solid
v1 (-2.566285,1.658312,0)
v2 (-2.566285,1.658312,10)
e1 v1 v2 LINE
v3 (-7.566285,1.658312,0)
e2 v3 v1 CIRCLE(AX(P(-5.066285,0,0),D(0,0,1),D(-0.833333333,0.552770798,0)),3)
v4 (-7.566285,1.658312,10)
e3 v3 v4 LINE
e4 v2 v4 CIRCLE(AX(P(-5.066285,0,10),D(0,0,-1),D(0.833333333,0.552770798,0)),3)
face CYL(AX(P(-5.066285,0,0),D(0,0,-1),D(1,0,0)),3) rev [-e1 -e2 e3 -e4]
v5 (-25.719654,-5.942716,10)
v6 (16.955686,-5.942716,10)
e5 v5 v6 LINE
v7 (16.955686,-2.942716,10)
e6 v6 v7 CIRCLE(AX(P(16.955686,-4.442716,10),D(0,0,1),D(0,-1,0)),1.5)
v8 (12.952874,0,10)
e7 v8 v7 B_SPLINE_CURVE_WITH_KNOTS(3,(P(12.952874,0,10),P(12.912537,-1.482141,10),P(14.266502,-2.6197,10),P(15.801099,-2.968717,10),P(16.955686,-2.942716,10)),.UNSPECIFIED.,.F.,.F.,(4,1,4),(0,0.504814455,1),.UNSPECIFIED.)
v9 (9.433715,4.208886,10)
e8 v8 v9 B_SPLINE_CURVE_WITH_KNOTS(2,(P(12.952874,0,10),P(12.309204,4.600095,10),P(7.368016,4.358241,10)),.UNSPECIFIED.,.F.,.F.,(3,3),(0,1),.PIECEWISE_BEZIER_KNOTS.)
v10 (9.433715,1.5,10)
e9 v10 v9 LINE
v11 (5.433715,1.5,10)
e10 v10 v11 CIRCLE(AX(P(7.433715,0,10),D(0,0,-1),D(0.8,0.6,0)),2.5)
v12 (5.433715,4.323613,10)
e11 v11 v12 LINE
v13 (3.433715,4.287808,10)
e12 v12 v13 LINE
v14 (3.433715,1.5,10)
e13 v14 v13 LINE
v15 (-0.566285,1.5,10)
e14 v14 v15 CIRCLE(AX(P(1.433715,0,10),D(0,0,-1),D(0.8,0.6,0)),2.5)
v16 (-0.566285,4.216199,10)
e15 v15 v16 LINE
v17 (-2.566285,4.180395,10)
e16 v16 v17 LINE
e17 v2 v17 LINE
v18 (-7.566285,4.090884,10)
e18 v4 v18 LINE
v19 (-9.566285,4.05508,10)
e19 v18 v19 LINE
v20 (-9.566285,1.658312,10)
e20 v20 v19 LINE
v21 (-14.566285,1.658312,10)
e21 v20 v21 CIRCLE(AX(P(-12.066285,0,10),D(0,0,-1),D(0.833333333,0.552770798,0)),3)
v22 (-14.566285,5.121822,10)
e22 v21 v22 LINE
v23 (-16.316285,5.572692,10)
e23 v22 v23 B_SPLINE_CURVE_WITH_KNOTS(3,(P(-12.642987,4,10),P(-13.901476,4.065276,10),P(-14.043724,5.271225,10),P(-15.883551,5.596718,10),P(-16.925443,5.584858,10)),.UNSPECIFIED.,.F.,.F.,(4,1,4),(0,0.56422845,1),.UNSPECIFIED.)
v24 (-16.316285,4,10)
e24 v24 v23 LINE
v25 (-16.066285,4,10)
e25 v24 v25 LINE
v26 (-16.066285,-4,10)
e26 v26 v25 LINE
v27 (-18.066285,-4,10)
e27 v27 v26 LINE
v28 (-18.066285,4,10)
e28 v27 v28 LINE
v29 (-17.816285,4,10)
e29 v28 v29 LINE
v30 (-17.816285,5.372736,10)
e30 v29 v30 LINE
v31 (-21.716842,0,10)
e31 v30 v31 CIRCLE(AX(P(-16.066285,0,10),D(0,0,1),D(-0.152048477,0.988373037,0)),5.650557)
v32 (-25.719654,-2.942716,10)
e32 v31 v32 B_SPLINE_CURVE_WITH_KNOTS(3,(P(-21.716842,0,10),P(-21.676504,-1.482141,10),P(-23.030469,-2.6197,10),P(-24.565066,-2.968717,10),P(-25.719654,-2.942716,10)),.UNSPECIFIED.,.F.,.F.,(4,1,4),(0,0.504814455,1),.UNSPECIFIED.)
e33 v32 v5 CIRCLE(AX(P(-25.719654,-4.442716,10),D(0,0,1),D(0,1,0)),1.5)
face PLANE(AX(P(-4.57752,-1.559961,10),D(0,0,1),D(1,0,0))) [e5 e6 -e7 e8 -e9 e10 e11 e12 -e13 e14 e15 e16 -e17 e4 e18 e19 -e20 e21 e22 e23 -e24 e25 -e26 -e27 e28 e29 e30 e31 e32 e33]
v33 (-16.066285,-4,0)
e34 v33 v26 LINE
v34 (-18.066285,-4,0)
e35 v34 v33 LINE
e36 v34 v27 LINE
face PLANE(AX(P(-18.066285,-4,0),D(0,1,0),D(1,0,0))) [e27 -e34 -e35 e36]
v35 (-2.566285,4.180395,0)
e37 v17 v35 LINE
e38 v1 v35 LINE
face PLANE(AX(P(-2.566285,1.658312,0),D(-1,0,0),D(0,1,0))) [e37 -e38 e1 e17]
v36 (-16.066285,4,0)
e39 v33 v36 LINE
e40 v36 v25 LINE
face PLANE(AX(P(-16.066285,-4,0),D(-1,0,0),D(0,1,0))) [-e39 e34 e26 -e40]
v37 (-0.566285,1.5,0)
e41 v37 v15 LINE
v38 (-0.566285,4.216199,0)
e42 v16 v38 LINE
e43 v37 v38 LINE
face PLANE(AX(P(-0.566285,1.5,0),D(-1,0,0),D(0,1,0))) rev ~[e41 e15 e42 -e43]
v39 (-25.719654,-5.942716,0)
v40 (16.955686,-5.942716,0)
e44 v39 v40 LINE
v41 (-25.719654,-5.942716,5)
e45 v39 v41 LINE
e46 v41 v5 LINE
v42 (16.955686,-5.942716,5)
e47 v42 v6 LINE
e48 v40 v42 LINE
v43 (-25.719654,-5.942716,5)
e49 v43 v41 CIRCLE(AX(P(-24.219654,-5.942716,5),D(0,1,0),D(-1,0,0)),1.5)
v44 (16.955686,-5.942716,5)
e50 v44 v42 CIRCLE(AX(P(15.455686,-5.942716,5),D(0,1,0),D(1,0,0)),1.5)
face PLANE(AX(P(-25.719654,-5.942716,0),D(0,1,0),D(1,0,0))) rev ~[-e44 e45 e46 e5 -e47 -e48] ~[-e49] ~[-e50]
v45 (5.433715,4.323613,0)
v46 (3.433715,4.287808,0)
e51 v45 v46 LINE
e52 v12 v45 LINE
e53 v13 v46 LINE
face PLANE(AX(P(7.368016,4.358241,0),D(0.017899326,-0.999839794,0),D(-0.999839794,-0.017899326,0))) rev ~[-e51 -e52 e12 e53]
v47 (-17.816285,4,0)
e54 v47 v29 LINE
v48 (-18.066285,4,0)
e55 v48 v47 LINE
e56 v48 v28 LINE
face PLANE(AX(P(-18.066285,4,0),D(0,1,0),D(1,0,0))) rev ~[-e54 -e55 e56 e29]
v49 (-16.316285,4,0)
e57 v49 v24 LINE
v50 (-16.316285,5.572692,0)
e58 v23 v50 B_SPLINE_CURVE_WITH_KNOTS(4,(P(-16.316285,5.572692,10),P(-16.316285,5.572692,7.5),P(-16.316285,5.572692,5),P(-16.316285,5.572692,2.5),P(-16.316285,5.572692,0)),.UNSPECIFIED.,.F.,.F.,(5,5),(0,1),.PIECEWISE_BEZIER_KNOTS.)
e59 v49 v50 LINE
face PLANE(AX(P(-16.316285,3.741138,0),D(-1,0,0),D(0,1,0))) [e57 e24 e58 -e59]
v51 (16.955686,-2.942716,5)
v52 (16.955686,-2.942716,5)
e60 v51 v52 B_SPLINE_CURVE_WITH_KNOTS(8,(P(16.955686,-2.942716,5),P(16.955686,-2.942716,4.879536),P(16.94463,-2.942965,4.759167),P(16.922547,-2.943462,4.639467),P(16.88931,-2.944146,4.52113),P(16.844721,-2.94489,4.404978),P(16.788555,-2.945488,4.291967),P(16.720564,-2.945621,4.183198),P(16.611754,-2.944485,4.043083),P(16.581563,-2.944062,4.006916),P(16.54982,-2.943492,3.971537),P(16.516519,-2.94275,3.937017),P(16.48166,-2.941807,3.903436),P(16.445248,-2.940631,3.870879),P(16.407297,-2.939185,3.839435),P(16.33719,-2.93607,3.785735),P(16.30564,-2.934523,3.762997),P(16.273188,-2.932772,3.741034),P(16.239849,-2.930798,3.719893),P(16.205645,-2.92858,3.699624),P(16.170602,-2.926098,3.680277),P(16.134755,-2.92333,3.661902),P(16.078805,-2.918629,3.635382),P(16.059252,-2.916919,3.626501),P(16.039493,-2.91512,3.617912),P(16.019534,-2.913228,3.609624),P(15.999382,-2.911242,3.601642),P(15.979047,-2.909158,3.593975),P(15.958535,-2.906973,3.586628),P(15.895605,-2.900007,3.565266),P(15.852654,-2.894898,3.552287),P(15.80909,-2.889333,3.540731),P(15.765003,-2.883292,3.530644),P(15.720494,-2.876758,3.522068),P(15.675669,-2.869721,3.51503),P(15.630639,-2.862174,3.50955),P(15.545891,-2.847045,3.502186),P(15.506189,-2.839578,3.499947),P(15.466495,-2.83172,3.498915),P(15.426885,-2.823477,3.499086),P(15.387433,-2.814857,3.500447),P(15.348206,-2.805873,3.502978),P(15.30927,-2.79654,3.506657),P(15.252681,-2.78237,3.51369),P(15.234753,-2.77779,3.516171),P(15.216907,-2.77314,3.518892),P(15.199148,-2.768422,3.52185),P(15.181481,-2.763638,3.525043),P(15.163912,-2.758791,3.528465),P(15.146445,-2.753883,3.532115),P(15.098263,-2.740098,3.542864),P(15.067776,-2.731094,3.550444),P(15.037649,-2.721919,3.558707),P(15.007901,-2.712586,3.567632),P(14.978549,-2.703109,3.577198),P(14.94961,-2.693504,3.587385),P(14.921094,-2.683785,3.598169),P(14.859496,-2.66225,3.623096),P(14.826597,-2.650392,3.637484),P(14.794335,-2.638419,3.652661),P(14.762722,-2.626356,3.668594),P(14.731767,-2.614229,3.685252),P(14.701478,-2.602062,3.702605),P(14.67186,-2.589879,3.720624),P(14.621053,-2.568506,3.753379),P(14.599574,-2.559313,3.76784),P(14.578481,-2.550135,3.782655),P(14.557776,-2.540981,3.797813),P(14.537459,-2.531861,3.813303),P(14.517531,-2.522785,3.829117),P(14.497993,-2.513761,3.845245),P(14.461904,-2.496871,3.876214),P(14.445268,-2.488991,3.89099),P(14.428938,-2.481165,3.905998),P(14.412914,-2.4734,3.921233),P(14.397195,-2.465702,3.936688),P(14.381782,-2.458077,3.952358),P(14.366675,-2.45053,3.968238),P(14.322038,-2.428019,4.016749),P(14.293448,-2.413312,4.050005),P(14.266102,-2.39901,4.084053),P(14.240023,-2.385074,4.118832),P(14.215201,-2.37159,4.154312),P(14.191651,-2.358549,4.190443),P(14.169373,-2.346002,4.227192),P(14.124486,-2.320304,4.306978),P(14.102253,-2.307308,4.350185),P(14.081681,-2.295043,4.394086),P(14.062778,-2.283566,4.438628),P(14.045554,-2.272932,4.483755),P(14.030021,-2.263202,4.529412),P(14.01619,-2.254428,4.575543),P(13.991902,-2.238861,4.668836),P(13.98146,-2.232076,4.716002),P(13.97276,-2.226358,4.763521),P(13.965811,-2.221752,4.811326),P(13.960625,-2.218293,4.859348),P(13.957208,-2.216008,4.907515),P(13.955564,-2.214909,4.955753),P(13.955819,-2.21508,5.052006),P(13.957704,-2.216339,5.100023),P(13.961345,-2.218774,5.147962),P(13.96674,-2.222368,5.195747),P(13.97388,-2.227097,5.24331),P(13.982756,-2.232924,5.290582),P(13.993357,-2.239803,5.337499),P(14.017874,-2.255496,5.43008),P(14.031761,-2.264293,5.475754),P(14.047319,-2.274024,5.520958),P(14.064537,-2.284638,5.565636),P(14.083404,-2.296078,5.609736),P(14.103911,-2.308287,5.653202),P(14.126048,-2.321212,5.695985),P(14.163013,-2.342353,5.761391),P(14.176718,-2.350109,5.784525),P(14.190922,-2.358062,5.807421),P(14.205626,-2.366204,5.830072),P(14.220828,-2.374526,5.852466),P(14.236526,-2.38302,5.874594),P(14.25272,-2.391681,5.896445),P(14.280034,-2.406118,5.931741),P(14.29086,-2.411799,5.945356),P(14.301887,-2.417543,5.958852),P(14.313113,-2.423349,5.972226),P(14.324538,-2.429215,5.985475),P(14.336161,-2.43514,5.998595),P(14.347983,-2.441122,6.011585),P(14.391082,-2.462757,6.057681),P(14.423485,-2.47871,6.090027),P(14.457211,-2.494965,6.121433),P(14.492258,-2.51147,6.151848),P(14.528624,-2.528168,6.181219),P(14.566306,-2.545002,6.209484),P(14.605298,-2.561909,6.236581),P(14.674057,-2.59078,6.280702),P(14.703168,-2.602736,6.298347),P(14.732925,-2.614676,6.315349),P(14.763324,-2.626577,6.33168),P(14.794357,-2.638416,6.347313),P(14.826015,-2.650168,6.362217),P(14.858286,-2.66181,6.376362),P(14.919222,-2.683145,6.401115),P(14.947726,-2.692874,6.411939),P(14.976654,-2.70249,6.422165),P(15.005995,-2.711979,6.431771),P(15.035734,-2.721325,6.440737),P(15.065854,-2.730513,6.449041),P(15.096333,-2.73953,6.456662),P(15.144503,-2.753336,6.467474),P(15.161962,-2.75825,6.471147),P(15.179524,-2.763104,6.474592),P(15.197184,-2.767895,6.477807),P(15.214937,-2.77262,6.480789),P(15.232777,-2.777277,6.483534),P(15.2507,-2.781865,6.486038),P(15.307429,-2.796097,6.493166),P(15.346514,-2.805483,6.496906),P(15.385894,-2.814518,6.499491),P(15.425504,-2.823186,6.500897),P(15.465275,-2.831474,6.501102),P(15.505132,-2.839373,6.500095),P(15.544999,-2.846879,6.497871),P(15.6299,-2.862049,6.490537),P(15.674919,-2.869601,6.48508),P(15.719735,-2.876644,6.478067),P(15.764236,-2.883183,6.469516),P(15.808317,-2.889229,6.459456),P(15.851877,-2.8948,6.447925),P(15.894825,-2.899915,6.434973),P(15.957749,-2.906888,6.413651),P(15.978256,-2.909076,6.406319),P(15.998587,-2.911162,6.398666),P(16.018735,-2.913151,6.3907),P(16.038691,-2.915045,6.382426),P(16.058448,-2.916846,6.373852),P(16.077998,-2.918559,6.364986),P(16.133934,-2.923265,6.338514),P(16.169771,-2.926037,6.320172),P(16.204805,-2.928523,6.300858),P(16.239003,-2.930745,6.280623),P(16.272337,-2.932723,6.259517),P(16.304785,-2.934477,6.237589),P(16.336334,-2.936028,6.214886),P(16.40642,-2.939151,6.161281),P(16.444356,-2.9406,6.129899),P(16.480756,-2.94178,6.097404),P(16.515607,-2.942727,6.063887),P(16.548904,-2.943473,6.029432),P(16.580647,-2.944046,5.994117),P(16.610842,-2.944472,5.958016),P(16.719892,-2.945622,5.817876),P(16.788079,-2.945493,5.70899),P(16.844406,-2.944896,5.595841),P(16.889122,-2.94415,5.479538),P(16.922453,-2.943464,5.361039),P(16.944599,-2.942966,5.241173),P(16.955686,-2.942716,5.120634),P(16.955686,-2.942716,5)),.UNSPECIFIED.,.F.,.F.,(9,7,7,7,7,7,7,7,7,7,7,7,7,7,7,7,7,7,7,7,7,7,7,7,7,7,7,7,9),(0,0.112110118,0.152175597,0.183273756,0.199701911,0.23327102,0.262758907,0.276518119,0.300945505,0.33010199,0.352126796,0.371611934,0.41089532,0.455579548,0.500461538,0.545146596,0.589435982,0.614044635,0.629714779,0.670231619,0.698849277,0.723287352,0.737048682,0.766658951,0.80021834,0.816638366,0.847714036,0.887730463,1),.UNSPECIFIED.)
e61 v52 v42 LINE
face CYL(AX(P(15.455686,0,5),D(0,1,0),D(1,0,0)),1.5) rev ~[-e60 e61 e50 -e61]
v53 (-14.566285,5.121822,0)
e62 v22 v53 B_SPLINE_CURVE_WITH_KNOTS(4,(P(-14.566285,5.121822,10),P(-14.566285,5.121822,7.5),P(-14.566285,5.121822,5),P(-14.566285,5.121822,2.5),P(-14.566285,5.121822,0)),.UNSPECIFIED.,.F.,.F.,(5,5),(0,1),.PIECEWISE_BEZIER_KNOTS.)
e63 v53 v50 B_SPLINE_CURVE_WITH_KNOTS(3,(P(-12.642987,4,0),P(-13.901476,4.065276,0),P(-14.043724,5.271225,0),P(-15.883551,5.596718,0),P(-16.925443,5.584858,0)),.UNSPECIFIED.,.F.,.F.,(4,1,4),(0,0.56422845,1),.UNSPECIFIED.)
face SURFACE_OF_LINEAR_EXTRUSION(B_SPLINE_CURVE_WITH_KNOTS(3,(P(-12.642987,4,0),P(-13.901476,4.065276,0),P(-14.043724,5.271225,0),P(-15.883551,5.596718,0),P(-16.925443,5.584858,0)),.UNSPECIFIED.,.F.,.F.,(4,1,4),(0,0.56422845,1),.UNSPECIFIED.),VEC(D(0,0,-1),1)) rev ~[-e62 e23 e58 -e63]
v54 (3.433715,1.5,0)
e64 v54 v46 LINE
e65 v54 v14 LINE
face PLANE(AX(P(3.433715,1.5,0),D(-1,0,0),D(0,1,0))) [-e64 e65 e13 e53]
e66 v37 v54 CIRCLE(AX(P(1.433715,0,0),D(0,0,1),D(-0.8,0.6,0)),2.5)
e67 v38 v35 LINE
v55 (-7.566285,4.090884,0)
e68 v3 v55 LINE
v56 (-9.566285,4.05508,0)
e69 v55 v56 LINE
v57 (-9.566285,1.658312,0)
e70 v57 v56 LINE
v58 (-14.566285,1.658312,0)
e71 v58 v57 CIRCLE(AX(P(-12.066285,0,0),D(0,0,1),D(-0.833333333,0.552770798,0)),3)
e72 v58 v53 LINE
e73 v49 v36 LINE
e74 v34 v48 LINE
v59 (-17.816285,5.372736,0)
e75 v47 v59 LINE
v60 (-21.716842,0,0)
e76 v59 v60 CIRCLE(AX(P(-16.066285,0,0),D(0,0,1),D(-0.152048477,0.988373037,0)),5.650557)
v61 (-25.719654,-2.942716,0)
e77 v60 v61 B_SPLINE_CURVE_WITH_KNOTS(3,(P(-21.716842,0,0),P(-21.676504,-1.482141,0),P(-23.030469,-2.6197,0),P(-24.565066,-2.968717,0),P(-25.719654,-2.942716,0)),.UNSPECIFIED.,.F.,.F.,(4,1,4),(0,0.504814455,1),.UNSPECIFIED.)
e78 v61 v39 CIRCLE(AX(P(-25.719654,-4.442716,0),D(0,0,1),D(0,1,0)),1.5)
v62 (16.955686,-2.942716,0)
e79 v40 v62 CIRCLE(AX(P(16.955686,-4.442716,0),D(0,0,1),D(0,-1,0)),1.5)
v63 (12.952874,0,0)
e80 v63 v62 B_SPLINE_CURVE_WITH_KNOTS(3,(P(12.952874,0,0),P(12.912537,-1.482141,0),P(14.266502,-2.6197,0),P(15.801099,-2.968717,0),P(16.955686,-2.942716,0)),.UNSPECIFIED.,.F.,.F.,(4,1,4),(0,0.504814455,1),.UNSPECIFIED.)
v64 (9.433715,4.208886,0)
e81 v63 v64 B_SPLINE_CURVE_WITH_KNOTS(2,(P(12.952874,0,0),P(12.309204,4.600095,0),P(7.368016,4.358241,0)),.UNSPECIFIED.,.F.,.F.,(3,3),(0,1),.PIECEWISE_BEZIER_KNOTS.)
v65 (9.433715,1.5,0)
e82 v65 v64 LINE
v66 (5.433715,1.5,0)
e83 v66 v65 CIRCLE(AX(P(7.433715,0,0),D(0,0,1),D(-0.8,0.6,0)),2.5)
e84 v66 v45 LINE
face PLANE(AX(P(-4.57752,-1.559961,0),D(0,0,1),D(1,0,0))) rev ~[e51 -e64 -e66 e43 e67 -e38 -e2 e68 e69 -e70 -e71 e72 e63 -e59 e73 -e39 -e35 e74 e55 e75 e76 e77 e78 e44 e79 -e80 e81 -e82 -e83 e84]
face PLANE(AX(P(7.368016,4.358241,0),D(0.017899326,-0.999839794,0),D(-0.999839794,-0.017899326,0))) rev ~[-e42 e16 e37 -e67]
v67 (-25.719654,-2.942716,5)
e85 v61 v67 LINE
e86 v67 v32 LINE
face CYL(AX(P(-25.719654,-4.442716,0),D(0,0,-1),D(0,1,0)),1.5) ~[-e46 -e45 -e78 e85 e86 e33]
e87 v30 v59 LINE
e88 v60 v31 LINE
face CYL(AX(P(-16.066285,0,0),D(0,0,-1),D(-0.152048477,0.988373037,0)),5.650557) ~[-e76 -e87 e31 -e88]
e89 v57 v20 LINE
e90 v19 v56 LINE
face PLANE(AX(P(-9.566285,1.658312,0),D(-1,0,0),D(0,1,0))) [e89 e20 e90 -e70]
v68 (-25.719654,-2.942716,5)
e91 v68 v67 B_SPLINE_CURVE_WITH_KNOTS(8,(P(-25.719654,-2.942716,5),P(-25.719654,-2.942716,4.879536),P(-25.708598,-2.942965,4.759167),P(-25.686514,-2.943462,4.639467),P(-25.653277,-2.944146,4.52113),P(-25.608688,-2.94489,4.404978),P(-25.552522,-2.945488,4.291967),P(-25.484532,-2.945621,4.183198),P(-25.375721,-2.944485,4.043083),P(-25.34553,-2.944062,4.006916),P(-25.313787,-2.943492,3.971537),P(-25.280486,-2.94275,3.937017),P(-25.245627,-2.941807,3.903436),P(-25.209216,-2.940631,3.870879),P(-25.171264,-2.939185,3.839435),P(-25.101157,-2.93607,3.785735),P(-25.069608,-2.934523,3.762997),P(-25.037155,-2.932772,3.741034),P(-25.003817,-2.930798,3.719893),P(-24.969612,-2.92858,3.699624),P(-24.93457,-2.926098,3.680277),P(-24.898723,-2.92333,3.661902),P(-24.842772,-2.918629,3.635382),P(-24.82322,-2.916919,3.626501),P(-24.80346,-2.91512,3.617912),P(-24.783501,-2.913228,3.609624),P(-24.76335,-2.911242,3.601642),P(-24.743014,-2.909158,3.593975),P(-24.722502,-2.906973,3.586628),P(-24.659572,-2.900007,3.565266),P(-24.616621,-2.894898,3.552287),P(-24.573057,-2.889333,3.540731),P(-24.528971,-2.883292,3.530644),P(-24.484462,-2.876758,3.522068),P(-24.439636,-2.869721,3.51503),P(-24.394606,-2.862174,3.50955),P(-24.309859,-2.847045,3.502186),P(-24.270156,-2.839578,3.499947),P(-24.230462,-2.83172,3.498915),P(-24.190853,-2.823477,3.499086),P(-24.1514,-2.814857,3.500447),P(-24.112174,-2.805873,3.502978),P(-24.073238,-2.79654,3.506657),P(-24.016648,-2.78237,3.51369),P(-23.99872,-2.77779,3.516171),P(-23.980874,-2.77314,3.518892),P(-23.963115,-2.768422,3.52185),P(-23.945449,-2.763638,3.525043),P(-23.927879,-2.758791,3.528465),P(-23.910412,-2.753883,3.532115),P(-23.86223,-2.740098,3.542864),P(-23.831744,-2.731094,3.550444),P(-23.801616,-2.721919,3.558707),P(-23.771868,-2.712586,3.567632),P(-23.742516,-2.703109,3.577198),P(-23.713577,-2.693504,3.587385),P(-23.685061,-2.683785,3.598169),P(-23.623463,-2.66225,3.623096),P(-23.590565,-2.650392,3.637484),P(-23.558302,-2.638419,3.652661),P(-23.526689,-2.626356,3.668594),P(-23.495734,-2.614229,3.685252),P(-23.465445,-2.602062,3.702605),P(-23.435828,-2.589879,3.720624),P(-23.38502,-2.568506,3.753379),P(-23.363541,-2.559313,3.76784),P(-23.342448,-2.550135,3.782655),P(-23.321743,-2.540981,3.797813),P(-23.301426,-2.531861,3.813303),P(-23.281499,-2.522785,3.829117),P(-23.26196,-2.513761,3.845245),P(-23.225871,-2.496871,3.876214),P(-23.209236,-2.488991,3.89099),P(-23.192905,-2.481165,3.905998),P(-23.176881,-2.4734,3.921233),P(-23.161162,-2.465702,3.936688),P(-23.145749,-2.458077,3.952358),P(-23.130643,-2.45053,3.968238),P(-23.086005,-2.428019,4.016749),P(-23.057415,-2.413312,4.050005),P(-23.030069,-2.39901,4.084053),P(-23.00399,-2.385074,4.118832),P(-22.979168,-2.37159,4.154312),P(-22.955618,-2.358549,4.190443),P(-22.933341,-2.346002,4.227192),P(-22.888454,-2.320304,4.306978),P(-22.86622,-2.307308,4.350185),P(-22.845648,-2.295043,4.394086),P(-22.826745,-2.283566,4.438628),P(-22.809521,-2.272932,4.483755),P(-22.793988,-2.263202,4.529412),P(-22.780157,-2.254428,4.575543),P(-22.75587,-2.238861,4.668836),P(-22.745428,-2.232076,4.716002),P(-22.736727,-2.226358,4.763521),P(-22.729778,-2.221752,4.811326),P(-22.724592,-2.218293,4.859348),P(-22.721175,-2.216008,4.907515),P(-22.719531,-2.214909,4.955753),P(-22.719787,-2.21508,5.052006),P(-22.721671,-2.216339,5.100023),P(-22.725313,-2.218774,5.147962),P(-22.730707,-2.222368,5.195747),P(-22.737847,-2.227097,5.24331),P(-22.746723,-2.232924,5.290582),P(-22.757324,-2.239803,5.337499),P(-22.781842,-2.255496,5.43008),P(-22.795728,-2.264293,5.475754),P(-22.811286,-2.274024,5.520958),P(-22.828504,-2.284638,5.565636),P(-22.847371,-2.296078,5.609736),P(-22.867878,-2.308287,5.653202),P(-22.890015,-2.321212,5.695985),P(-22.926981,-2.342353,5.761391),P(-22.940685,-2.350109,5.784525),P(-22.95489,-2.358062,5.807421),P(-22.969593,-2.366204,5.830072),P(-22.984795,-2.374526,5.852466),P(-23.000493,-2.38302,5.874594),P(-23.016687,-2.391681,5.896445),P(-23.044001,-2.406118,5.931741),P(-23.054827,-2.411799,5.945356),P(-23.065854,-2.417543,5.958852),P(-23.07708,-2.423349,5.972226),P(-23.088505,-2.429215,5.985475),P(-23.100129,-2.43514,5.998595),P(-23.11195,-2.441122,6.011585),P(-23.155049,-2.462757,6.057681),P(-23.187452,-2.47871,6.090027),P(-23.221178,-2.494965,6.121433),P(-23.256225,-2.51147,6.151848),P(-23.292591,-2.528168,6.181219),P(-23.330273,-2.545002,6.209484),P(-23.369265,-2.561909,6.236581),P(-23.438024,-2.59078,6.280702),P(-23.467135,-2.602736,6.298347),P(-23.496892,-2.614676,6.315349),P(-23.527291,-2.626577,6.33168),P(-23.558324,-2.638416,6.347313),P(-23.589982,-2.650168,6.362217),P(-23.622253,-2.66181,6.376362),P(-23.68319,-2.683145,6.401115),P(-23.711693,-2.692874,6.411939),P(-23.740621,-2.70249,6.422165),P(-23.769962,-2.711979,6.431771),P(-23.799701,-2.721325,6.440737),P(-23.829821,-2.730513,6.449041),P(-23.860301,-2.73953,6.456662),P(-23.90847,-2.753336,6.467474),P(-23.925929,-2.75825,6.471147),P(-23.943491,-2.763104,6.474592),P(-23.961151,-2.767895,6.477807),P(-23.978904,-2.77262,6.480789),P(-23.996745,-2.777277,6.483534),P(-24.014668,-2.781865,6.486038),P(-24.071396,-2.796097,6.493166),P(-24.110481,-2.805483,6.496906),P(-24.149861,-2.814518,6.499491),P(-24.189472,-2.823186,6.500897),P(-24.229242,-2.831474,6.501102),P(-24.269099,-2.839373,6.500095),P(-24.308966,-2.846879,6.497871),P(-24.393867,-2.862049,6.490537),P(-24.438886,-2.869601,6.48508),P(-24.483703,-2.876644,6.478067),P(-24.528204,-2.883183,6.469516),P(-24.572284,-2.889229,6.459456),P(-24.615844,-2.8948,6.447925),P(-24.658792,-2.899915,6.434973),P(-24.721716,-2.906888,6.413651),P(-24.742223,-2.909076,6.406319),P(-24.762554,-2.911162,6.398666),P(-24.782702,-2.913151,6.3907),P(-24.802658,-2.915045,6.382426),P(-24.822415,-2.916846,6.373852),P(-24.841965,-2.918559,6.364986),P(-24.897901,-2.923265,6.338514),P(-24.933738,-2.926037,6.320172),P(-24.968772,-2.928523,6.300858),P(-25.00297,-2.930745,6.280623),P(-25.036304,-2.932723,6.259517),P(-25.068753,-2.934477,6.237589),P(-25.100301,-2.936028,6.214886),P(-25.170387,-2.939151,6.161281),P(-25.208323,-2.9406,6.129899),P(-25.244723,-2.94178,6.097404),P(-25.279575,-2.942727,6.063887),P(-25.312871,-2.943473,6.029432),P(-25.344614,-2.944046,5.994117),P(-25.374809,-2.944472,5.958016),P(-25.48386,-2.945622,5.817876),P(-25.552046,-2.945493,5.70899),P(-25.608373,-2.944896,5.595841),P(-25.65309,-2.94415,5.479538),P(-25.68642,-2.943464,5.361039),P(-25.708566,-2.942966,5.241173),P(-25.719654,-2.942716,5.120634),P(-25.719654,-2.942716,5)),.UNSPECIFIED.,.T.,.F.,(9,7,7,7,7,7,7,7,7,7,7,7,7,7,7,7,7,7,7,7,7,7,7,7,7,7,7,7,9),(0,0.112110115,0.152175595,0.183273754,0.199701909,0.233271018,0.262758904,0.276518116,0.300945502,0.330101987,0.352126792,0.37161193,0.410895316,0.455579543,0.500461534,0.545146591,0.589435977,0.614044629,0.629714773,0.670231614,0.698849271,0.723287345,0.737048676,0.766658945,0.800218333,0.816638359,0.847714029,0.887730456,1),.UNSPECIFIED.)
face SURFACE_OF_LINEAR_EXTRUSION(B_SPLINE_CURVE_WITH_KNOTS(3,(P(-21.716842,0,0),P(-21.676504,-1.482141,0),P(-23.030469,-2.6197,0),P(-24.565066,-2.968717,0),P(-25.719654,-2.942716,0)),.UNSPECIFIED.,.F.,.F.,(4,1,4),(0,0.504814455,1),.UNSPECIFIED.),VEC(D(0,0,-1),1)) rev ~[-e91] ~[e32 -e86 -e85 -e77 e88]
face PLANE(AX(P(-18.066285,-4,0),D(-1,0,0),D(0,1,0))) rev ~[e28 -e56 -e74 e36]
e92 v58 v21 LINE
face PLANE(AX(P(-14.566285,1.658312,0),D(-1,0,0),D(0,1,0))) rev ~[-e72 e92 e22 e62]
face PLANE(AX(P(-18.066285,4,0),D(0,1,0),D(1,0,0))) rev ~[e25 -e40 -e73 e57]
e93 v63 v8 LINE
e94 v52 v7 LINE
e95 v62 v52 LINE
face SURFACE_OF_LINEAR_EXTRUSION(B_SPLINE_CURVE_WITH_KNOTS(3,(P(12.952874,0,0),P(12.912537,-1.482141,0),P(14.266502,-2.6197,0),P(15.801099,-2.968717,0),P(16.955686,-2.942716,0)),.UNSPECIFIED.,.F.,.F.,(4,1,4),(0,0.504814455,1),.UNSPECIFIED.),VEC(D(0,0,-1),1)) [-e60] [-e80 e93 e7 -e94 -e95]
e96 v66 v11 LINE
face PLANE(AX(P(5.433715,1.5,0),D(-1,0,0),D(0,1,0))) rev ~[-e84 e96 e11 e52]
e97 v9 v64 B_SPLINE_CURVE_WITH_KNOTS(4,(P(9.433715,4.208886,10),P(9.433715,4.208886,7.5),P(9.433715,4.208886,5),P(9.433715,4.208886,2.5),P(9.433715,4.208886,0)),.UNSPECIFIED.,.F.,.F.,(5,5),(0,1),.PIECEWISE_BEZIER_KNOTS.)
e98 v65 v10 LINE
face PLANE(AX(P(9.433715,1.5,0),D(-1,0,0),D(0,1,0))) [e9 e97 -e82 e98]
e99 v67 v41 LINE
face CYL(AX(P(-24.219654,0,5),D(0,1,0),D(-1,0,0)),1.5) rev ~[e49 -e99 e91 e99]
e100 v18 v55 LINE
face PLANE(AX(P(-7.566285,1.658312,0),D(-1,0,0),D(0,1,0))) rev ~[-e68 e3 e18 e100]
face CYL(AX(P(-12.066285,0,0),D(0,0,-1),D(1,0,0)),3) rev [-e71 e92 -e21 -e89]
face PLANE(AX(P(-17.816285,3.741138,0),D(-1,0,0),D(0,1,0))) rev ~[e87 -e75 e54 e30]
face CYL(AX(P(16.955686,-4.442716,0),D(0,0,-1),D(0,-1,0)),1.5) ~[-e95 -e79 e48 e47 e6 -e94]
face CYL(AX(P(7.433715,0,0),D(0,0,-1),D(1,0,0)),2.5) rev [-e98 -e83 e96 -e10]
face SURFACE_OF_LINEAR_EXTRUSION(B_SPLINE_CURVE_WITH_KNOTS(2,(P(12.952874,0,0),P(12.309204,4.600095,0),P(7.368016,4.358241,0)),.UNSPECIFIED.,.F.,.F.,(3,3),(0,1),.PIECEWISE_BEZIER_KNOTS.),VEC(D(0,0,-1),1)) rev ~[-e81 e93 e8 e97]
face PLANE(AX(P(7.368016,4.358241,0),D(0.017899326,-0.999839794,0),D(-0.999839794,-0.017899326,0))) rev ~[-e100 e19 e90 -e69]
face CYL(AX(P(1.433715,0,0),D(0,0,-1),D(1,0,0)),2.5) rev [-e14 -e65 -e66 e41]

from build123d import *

# Parameters (mm, degrees)
ESBO_O1_W                = 2
ESBO_O1_H                = 8
ESBO_O1_R                = 3
ESBO_O1_R_2              = 2.5
RESSALTO_EXTRUS_O1_DEPTH = 10
ESBO_O4_W                = 4
ESBO_O4_H                = 3.861250687
ESBO_O4_H_2              = 3.752003841
ESBO_O4_W_2              = 5
ESBO_O4_H_3              = 3.819014792
ESBO_O4_H_4              = 3.693699436
ESBO_O4_W_3              = 1.5
ESBO_O4_H_5              = 2.079089953
CORTE_EXTRUS_O1_DEPTH    = 10
ESBO_O5_R                = 1.5
CORTE_EXTRUS_O2_DEPTH    = 10


with BuildPart() as part:
    # Esboço1 → Ressalto-extrusão1 (new body)
    with BuildSketch(Plane.XY):
        with BuildLine():
            Line((-25.719653684, -5.942716093), (-16.131983613, -5.942716093))
            Line((-16.131983613, -5.942716093), (7.368016387, -5.942716093))
            Line((7.368016387, -5.942716093), (16.955686457, -5.942716093))
            ThreePointArc((16.955686457, -5.942716093), (18.455686457, -4.442716093), (16.955686457, -2.942716093))
            add(Edge.make_bspline(
                [(12.952874444, 0), (12.912537119, -1.482141434), (14.266501813, -2.619700333), (15.801098565, -2.968716739), (16.955686457, -2.942716093)],
                knots=[0, 0, 0, 0, 0.504814455, 1, 1, 1, 1], degree=3))
            add(Edge.make_bspline(
                [(12.952874444, 0), (12.309204111, 4.600095009), (7.368016387, 4.358240851)],
                knots=[0, 0, 0, 1, 1, 1], degree=2))
            Line((7.368016387, 4.358240851), (-12.64298655, 4))
            add(Edge.make_bspline(
                [(-12.64298655, 4), (-13.901476132, 4.065275886), (-14.043723736, 5.271225486), (-15.883550882, 5.59671809), (-16.925443363, 5.584858058)],
                knots=[0, 0, 0, 0, 0.56422845, 1, 1, 1, 1], degree=3))
            ThreePointArc((-16.925443363, 5.584858058), (-20.354846171, 3.679270895), (-21.716841671, 0))
            add(Edge.make_bspline(
                [(-21.716841671, 0), (-21.676504345, -1.482141434), (-23.030469039, -2.619700333), (-24.565065791, -2.968716739), (-25.719653684, -2.942716093)],
                knots=[0, 0, 0, 0, 0.504814455, 1, 1, 1, 1], degree=3))
            ThreePointArc((-25.719653684, -2.942716093), (-27.219653684, -4.442716093), (-25.719653684, -5.942716093))
        make_face()
        with Locations((-17.066284799, 0)):
            Rectangle(ESBO_O1_W, ESBO_O1_H, mode=Mode.SUBTRACT)
        with Locations((-12.066284799, 0)):
            Circle(ESBO_O1_R, mode=Mode.SUBTRACT)
        with Locations((-5.066284799, 0)):
            Circle(ESBO_O1_R, mode=Mode.SUBTRACT)
        with Locations((1.433715201, 0)):
            Circle(ESBO_O1_R_2, mode=Mode.SUBTRACT)
        with Locations((7.433715201, 0)):
            Circle(ESBO_O1_R_2, mode=Mode.SUBTRACT)
    extrude(amount=RESSALTO_EXTRUS_O1_DEPTH)

    # Esboço4 → Corte-extrusão1 (cut)
    with BuildSketch(Plane(origin=(0, 0, 0), x_dir=(-1, 0, 0), z_dir=(0, 0, -1))):
        with Locations((-7.433715201, 3.430625344)):
            Rectangle(ESBO_O4_W, ESBO_O4_H)
        with Locations((-1.433715201, 3.376001921)):
            Rectangle(ESBO_O4_W, ESBO_O4_H_2)
        with Locations((5.066284799, 3.567819791)):
            Rectangle(ESBO_O4_W_2, ESBO_O4_H_3)
        with Locations((12.066284799, 3.505162113)):
            Rectangle(ESBO_O4_W_2, ESBO_O4_H_4)
        with Locations((17.066284799, 4.780683053)):
            Rectangle(ESBO_O4_W_3, ESBO_O4_H_5)
    extrude(amount=-CORTE_EXTRUS_O1_DEPTH, mode=Mode.SUBTRACT)

    # Esboço5 → Corte-extrusão2 (cut)
    with BuildSketch(Plane(origin=(0, 0, 0), x_dir=(1, 0, 0), z_dir=(0, 1, 0))):
        with Locations(Location((-24.219653684, -5, 0), (0, 0, 180))):
            Circle(ESBO_O5_R)
        with Locations((15.455686457, -5)):
            Circle(ESBO_O5_R)
    extrude(amount=-CORTE_EXTRUS_O2_DEPTH, mode=Mode.SUBTRACT)


solid = part.part
